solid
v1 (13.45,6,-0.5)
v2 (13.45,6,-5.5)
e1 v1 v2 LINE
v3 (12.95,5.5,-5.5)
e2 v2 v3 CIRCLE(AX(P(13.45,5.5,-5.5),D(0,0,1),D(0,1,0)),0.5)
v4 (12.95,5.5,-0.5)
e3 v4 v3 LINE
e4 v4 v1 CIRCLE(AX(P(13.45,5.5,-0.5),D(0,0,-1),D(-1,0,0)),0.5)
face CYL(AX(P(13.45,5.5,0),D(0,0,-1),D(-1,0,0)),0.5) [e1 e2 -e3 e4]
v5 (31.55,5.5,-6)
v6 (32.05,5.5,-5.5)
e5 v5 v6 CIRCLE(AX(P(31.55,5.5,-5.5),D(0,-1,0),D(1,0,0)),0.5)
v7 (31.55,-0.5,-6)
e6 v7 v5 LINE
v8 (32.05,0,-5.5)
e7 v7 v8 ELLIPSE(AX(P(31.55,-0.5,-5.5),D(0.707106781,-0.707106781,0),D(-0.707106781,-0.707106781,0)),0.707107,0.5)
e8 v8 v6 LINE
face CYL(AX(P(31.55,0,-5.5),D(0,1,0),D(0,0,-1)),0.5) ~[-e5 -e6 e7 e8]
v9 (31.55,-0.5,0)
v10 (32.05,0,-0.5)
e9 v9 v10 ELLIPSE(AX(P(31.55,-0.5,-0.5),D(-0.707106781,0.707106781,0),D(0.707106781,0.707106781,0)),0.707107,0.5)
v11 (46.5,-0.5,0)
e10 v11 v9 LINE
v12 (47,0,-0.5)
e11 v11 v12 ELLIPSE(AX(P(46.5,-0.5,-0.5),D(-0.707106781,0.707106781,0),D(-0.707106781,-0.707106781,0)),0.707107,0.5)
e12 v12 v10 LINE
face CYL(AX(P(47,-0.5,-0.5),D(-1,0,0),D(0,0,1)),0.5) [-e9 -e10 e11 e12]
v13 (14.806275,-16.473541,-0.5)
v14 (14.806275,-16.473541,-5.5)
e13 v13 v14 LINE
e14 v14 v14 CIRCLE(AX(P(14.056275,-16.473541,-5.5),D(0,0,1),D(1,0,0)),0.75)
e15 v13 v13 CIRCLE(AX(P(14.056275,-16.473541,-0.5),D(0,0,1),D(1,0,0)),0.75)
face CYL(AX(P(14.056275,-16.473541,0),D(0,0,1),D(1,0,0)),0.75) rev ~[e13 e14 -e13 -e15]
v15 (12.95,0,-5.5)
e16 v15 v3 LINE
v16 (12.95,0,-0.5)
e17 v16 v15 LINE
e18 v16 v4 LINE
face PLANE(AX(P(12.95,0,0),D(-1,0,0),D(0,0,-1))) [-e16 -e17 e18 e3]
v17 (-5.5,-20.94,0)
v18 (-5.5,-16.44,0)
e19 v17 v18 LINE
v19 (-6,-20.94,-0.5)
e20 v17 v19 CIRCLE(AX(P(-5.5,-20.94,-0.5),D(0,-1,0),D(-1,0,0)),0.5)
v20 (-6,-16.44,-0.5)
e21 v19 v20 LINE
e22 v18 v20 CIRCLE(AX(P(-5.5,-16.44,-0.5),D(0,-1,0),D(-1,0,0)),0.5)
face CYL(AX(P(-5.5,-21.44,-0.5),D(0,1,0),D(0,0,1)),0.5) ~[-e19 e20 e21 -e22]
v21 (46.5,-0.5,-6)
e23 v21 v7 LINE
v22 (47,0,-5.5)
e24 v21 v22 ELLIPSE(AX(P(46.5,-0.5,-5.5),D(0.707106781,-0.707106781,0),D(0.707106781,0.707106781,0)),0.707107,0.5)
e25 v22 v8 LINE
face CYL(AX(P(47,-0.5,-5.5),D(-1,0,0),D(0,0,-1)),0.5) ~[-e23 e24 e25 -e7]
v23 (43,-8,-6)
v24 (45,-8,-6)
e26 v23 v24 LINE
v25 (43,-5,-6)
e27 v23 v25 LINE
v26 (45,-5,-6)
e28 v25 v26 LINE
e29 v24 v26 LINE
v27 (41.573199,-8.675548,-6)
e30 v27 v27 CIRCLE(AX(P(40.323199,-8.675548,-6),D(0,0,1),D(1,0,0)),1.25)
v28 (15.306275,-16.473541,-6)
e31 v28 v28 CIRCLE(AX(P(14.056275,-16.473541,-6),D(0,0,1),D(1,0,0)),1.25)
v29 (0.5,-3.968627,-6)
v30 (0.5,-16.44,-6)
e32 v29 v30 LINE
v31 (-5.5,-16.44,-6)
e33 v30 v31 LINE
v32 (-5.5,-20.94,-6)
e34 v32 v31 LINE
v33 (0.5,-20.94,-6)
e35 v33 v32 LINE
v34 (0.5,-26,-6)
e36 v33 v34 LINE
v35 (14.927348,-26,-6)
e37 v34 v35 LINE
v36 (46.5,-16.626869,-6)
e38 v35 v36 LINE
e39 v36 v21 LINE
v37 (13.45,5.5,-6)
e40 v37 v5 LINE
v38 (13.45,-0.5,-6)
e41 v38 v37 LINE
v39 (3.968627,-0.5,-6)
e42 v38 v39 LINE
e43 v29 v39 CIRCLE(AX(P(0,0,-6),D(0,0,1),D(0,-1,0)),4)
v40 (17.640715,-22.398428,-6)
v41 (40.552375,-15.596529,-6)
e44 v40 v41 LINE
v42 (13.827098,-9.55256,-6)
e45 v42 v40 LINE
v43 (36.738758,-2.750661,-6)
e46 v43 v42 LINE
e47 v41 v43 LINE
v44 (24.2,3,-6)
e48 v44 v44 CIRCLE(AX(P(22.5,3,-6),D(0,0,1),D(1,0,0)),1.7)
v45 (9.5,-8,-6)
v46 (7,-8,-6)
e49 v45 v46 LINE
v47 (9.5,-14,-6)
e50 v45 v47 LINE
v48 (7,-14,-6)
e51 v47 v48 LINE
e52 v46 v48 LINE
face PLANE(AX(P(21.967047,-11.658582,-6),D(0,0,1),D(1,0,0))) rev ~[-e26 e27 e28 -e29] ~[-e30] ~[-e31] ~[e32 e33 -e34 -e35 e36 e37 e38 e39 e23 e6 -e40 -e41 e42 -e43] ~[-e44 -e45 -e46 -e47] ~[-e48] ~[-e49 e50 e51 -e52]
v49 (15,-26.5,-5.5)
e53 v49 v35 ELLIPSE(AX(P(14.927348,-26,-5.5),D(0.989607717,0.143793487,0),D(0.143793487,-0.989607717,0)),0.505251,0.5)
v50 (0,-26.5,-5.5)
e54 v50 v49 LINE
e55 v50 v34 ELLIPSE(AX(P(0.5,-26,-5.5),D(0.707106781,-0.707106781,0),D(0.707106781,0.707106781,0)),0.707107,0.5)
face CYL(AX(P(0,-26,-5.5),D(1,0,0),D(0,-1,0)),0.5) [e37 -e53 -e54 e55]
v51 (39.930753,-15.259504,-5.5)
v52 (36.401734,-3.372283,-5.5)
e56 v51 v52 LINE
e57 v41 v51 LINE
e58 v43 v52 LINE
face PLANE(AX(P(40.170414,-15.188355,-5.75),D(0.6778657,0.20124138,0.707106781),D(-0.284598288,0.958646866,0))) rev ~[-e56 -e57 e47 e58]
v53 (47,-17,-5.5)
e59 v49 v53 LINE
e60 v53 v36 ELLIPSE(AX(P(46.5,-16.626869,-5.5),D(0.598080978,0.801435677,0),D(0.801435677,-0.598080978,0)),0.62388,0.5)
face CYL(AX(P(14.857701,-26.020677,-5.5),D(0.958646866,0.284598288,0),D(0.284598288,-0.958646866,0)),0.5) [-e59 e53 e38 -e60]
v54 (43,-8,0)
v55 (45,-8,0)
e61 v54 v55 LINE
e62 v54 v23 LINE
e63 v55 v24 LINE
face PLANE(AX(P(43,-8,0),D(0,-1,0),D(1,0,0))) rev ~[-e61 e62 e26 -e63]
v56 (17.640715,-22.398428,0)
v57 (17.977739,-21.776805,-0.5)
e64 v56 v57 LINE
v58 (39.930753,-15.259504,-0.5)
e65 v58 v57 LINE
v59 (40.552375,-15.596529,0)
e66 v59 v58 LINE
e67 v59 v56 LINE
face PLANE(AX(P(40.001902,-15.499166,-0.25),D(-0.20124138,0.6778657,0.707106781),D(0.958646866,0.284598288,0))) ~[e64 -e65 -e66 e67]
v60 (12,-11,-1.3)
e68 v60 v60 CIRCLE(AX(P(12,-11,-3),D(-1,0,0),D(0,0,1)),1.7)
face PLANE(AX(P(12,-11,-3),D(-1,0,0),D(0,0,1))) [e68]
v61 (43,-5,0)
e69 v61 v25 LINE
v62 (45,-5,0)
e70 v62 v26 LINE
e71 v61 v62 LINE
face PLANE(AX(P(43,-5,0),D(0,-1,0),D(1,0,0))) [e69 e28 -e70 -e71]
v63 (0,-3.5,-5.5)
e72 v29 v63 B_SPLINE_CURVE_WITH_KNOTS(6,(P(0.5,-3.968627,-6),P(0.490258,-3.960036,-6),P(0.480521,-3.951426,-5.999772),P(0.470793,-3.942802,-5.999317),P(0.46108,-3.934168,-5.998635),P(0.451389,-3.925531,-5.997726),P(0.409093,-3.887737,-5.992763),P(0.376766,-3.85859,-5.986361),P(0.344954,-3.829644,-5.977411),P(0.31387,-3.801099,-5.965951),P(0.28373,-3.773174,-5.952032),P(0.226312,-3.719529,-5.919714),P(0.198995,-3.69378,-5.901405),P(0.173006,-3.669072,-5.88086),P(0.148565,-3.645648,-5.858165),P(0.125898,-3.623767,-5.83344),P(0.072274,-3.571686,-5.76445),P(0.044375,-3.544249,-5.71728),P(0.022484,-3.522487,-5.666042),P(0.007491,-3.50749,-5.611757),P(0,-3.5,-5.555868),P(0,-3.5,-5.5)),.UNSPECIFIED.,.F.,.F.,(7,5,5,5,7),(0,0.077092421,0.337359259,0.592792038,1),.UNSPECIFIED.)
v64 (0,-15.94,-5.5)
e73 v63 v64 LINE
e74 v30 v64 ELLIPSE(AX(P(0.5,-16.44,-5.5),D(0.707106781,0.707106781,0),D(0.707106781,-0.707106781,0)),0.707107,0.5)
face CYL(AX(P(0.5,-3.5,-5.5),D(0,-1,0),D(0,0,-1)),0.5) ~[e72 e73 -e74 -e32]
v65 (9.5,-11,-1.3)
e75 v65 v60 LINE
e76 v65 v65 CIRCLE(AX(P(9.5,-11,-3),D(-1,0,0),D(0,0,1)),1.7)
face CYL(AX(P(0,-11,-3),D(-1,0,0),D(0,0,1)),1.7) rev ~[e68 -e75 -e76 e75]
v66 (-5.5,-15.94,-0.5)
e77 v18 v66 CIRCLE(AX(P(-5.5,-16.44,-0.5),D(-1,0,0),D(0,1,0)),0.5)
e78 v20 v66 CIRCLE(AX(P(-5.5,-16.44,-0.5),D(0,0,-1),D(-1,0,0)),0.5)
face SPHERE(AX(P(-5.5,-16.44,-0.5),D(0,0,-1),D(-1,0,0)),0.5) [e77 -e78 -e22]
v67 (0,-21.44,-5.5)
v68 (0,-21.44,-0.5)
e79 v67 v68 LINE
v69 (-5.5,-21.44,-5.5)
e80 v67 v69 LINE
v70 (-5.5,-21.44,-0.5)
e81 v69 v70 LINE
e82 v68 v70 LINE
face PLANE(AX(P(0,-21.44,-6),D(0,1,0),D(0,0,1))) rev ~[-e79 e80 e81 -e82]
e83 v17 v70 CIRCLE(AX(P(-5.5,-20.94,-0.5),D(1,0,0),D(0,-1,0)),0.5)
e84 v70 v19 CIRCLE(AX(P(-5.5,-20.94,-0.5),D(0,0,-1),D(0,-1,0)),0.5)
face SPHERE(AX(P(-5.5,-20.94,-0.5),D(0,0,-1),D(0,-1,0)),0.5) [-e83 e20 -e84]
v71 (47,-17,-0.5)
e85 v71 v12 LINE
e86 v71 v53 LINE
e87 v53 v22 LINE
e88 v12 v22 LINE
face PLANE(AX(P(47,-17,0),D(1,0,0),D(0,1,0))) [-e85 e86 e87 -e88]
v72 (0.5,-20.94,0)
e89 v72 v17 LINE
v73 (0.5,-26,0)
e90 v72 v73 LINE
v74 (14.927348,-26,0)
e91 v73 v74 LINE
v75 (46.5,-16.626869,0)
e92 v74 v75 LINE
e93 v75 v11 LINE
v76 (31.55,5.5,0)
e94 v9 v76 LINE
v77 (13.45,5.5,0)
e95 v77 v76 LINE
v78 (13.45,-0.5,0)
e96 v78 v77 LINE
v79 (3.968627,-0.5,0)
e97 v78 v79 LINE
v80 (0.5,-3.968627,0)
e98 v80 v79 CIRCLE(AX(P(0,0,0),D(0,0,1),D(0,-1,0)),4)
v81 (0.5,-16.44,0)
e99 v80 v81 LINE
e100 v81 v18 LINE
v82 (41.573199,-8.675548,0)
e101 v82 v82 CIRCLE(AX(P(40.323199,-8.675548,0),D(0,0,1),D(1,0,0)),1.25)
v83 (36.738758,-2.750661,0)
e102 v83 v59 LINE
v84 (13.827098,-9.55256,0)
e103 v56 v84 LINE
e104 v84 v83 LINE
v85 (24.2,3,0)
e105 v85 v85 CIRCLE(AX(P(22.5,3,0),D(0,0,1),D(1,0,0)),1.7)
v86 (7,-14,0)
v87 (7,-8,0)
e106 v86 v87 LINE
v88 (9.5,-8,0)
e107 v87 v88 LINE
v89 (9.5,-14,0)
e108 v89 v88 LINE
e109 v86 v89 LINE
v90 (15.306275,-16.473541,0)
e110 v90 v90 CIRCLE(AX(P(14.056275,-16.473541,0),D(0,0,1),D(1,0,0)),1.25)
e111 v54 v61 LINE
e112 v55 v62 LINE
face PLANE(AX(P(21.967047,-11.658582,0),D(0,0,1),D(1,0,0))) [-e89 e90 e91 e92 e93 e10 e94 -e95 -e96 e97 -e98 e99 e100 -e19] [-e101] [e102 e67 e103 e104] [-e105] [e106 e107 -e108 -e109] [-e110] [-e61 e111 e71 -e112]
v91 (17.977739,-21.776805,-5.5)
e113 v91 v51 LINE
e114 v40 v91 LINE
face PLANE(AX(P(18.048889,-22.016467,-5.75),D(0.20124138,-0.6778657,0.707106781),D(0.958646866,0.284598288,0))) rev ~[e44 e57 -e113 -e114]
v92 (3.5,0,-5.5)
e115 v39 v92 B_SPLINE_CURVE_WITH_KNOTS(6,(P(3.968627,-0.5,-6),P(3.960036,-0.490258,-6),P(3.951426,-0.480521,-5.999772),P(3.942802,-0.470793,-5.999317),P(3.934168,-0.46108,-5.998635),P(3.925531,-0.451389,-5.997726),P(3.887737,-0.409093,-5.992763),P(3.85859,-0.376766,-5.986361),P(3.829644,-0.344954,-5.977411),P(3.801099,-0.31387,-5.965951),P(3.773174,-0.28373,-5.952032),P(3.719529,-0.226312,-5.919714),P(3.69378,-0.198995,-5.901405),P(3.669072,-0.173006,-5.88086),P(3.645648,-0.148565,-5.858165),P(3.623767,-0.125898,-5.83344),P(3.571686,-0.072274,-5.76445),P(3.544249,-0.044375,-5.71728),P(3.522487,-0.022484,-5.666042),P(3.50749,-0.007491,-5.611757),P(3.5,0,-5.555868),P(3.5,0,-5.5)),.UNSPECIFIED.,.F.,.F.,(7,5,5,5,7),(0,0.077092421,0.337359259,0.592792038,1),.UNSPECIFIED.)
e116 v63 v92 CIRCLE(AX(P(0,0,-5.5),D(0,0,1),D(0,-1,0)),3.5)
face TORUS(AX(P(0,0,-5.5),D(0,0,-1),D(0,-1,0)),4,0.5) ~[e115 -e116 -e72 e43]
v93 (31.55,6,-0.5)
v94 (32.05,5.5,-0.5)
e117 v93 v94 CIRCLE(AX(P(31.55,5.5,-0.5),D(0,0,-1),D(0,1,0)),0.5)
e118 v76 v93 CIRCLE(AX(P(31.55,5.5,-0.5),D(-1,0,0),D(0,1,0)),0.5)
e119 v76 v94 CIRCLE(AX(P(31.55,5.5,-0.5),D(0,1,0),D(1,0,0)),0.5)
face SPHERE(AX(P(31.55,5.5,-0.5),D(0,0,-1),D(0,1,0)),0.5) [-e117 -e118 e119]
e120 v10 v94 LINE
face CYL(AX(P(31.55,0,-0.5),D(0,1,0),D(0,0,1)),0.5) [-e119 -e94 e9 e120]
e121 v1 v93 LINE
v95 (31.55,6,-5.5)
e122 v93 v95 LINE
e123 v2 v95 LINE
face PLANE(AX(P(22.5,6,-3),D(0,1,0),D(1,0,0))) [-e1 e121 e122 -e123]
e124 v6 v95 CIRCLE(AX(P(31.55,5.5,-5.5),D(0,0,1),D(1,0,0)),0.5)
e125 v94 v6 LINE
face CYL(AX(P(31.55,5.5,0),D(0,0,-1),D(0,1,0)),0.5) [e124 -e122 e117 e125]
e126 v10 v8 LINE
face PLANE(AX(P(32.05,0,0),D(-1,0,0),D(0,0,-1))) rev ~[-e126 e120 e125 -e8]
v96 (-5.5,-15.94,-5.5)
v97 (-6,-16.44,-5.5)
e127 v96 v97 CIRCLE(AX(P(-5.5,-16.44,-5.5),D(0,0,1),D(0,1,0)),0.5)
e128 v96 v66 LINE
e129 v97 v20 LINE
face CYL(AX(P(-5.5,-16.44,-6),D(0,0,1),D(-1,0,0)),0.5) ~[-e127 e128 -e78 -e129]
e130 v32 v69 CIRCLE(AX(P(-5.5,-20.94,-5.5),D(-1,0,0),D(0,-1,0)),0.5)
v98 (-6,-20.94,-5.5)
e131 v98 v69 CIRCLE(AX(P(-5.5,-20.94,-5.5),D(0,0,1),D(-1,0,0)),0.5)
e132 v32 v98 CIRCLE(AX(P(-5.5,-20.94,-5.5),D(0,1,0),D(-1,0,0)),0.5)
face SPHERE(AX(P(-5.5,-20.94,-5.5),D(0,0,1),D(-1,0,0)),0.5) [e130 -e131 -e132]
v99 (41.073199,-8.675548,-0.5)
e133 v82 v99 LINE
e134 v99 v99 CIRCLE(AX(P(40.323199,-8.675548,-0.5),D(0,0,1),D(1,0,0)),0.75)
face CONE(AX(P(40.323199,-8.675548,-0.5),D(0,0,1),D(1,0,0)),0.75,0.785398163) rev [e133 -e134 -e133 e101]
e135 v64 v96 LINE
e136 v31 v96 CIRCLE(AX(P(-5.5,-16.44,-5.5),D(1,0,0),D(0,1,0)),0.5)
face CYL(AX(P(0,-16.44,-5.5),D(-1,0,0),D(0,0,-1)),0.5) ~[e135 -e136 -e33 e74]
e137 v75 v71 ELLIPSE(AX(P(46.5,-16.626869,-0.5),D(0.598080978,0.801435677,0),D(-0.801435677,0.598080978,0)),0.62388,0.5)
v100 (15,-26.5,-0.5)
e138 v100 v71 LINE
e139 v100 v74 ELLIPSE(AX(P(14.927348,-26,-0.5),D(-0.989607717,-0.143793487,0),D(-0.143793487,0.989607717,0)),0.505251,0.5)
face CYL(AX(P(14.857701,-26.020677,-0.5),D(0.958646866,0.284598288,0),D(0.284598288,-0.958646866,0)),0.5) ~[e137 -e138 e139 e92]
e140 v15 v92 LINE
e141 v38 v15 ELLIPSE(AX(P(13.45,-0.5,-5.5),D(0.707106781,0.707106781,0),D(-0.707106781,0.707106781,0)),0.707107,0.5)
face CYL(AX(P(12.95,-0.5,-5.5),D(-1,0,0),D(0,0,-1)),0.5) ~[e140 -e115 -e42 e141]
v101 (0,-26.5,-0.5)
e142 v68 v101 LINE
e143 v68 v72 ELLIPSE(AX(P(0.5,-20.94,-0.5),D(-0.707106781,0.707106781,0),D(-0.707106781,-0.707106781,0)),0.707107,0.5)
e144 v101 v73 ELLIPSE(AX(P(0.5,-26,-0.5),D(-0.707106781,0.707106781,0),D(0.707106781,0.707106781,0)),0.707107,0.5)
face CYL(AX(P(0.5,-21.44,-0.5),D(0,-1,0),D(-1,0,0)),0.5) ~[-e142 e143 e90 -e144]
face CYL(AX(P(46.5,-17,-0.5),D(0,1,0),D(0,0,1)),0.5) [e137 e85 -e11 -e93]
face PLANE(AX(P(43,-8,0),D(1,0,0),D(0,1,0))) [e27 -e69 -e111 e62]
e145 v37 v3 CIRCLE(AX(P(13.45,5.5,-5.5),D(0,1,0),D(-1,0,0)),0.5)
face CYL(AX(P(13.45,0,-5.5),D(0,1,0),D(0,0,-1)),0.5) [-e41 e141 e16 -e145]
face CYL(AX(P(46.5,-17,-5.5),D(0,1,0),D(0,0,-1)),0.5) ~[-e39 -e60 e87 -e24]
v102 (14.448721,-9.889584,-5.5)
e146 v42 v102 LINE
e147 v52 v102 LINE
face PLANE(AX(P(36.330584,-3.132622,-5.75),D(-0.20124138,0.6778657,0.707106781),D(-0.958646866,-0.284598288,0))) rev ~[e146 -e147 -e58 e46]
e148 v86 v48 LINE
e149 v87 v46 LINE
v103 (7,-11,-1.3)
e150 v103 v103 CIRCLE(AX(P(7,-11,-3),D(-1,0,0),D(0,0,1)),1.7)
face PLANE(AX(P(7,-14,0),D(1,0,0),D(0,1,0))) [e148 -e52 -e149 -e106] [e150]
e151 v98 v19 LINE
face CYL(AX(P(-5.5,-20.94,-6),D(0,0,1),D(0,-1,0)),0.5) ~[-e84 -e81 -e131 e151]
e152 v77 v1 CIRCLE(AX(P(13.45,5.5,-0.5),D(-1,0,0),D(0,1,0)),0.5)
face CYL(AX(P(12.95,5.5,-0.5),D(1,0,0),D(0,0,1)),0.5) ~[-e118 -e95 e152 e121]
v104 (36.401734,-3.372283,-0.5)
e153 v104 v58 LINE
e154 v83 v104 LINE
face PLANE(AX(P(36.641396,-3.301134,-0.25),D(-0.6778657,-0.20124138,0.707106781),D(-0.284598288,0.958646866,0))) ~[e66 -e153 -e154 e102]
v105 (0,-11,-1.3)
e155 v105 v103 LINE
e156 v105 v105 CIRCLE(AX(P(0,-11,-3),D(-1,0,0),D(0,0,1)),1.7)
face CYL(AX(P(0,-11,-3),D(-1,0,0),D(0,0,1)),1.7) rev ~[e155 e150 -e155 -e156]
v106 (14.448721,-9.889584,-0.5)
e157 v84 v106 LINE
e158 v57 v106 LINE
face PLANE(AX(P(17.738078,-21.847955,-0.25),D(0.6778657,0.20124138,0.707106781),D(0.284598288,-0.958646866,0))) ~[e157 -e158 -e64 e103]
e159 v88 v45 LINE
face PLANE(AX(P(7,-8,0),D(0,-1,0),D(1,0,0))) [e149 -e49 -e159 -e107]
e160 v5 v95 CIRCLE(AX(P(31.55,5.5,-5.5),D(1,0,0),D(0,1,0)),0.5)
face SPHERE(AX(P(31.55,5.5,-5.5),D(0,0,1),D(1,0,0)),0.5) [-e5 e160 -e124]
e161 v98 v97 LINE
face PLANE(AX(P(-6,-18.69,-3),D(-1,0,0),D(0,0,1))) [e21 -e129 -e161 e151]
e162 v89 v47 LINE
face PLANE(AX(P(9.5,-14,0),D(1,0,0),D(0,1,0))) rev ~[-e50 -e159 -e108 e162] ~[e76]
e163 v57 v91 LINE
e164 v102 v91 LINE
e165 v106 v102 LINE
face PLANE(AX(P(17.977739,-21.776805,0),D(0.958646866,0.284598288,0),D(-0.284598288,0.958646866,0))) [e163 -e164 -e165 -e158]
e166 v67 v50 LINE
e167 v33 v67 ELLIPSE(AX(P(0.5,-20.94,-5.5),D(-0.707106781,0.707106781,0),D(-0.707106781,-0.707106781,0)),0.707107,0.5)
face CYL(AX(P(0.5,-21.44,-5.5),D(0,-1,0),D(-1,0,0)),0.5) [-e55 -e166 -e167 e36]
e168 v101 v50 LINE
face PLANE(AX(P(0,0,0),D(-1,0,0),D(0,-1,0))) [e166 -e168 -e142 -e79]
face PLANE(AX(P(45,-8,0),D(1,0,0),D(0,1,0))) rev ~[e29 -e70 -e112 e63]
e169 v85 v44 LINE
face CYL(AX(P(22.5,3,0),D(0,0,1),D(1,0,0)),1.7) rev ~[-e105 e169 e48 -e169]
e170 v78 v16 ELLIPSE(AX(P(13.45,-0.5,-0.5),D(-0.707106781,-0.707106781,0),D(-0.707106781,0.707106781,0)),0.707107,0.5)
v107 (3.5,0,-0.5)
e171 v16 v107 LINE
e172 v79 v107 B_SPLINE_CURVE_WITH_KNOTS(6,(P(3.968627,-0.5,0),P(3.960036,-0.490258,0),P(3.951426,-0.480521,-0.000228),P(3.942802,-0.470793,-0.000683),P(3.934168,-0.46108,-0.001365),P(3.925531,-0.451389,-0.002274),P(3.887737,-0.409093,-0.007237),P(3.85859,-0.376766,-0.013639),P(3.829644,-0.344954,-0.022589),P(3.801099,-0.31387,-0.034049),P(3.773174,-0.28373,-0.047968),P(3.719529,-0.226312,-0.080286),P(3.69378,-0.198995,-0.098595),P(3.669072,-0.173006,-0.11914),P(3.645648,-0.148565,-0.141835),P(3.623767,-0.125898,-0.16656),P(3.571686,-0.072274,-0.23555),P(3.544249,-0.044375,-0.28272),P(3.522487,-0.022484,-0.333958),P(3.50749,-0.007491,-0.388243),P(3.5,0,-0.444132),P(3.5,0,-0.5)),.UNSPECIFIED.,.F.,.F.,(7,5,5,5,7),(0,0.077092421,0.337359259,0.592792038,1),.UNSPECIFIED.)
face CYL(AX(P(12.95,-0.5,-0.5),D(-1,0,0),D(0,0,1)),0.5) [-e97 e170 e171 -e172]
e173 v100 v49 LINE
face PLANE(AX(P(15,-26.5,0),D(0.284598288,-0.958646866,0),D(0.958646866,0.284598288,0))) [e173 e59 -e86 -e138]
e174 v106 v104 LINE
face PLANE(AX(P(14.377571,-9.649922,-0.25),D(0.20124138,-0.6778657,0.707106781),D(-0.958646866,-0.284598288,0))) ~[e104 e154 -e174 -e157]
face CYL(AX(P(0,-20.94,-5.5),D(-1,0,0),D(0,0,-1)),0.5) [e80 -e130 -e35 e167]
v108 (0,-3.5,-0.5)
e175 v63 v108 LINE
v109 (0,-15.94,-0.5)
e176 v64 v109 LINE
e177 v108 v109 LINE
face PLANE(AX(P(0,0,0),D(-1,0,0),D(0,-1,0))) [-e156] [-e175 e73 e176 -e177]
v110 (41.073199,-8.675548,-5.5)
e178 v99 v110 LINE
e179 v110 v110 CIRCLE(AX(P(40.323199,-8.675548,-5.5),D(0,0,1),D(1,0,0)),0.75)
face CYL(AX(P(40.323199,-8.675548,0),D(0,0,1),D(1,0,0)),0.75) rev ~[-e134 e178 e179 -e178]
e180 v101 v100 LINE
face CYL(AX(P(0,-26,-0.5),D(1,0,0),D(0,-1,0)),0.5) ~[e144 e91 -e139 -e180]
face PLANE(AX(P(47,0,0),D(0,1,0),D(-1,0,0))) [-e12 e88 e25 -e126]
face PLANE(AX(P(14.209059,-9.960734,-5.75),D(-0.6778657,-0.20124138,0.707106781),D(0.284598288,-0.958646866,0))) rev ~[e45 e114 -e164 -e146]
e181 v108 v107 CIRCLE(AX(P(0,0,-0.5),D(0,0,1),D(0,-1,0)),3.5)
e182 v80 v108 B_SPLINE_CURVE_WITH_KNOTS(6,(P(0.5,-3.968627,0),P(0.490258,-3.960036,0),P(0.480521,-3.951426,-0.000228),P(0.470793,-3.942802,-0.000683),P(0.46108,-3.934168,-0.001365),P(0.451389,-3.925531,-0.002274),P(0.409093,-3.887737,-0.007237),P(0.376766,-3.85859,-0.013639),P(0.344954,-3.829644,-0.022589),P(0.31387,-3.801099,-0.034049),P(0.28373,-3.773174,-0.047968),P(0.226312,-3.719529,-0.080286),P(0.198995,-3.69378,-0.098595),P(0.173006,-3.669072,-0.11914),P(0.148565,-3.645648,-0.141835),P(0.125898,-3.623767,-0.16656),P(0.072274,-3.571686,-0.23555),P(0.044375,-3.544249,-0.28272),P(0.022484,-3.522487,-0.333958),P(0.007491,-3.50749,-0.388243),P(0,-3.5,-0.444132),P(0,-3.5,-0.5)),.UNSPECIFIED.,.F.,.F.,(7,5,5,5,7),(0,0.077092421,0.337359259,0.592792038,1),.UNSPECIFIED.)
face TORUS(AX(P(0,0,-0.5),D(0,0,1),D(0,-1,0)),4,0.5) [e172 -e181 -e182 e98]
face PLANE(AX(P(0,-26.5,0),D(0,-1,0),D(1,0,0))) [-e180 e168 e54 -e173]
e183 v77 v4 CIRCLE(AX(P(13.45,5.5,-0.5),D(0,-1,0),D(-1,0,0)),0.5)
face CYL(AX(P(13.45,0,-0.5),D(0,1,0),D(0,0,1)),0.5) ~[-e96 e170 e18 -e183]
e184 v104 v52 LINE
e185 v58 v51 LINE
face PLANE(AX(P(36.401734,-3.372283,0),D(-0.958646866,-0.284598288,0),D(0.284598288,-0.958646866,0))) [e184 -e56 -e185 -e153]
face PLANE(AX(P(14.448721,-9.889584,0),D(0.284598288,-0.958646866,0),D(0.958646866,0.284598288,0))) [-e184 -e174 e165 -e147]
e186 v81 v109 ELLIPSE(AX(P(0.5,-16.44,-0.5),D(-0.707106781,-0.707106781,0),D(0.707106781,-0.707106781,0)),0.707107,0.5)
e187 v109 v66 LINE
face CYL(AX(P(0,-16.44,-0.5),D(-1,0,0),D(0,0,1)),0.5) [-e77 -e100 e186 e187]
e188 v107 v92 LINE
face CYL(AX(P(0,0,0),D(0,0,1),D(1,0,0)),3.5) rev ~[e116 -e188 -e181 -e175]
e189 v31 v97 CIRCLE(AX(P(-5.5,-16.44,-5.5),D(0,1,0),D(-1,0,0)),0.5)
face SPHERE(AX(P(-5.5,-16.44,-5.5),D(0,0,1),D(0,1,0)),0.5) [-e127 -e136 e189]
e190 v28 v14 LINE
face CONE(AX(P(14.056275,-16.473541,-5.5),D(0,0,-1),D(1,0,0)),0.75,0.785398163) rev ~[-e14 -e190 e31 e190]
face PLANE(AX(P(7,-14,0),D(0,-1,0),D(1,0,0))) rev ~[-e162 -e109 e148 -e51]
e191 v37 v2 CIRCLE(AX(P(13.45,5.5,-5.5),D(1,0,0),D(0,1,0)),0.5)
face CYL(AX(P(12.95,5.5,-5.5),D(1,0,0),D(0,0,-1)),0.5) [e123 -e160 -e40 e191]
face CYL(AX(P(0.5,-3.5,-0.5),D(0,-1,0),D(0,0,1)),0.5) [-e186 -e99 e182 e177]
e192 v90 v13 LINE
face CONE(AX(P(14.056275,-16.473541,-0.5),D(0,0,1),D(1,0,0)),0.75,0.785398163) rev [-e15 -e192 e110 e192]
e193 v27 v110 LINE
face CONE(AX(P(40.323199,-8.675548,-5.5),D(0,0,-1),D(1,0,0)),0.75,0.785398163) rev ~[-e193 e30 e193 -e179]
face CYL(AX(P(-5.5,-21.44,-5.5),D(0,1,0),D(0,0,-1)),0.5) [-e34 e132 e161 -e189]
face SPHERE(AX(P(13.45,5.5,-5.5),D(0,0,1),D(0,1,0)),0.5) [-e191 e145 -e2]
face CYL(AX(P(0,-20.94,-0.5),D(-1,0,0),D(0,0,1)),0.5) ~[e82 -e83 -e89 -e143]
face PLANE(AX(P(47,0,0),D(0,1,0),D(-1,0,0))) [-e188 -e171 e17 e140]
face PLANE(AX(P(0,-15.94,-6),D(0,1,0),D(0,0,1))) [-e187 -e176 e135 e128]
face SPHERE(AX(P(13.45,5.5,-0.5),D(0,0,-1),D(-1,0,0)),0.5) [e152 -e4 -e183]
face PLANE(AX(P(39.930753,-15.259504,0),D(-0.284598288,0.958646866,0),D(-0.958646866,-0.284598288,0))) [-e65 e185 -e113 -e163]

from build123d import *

# Parameters (mm, degrees)
BODY_DEPTH                = 6
SKETCH2_W                 = 19.1
SKETCH2_H                 = 6
TOP_TAB_DEPTH             = 6
SKETCH3_W                 = 6
SKETCH3_H                 = 5.5
BACK_TAB_DEPTH            = 6
SKETCH5_R                 = 1.7
BACK_SCREW_HOLE_DEPTH     = 12
SCREW_AND_NUT_HOLES_REACH = 56.289
SKETCH4_R                 = 1.7
SKETCH4_W                 = 2.5
SKETCH4_H                 = 6
SKETCH7_R                 = 3.5
SWITCH_WIRE_RELIEF_DEPTH  = 55.288580751
FILLET1_R                 = 0.5
SERVO_OPENINGS_REACH      = 56.289
SKETCH6_R                 = 0.75
CHAMFER1_SIZE             = 0.5
SKETCH8_W                 = 2
SKETCH8_H                 = 3
CUT_EXTRUDE1_DEPTH        = 55.288580762


with BuildPart() as part:
    # Sketch1 → Body (new body)
    with BuildSketch(Plane.XY):
        Polygon((0, -26.5), (15, -26.5), (47, -17), (47, 0), (0, 0), align=None)
    extrude(amount=-BODY_DEPTH)

    # Sketch2 → Top Tab (add)
    with BuildSketch(Plane(origin=(0, 0, 0), x_dir=(1, 0, 0), z_dir=(0, 1, 0))):
        with Locations((22.5, 3)):
            Rectangle(SKETCH2_W, SKETCH2_H)
    extrude(amount=TOP_TAB_DEPTH)

    # Sketch3 → Back Tab (add)
    with BuildSketch(Plane.ZY):
        with Locations((-3, -18.69)):
            Rectangle(SKETCH3_W, SKETCH3_H)
    extrude(amount=BACK_TAB_DEPTH)

    # Sketch5 → Back Screw Hole (cut)
    with BuildSketch(Plane.ZY):
        with Locations((-3, -11)):
            Circle(SKETCH5_R)
    extrude(amount=-BACK_SCREW_HOLE_DEPTH, mode=Mode.SUBTRACT)

    # Sketch4 → Screw and Nut Holes (cut, up to next)
    with BuildSketch(Plane.XY, mode=Mode.PRIVATE) as screw_and_nut_holes_sk1:
        with Locations((22.5, 3)):
            Circle(SKETCH4_R)
    screw_and_nut_holes_tool1 = extrude(screw_and_nut_holes_sk1.sketch, amount=-SCREW_AND_NUT_HOLES_REACH, mode=Mode.PRIVATE) & part.part
    # Sketch4 → Screw and Nut Holes (cut, up to next)
    with BuildSketch(Plane.XY, mode=Mode.PRIVATE) as screw_and_nut_holes_sk2:
        with Locations((8.25, -11)):
            Rectangle(SKETCH4_W, SKETCH4_H)
    screw_and_nut_holes_tool2 = extrude(screw_and_nut_holes_sk2.sketch, amount=-SCREW_AND_NUT_HOLES_REACH, mode=Mode.PRIVATE) & part.part
    add(screw_and_nut_holes_tool1.solids().sort_by_distance((22.5, 3, 0))[0], mode=Mode.SUBTRACT)
    add(screw_and_nut_holes_tool2.solids().sort_by_distance((8.25, -11, 0))[0], mode=Mode.SUBTRACT)

    # Sketch7 → Switch Wire Relief (cut, through all)
    with BuildSketch(Plane.XY):
        Circle(SKETCH7_R)
    extrude(amount=-SWITCH_WIRE_RELIEF_DEPTH, mode=Mode.SUBTRACT)

    # Fillet1
    fillet1_edges = [part.edges().sort_by_distance(p)[0] for p in [
        (32.05, 6, -3),
        (12.95, 6, -3),
        (-6, -15.94, -3),
        (-6, -21.44, -3),
        (7.5, -26.5, -6),
        (31, -21.75, -6),
        (47, -8.5, -6),
        (39.525, 0, -6),
        (32.05, 3, -6),
        (22.5, 6, -6),
        (12.95, 3, -6),
        (8.225, 0, -6),
        (0, -9.72, -6),
        (-3, -15.94, -6),
        (-6, -18.69, -6),
        (-3, -21.44, -6),
        (0, -23.97, -6),
        (0, -9.72, 0),
        (8.225, 0, 0),
        (12.95, 3, 0),
        (22.5, 6, 0),
        (32.05, 3, 0),
        (39.525, 0, 0),
        (47, -8.5, 0),
        (31, -21.75, 0),
        (7.5, -26.5, 0),
        (0, -23.97, 0),
        (-3, -21.44, 0),
        (-6, -18.69, 0),
        (-3, -15.94, 0),
        (2.474873734, -2.474873734, -6),
        (2.474873734, -2.474873734, 0),
    ]]
    fillet(fillet1_edges, radius=FILLET1_R)

    # Sketch6 → Servo Openings (cut, up to next)
    with BuildSketch(Plane.XY, mode=Mode.PRIVATE) as servo_openings_sk1:
        with Locations((14.056274553, -16.473540836)):
            Circle(SKETCH6_R)
    servo_openings_tool1 = extrude(servo_openings_sk1.sketch, amount=-SERVO_OPENINGS_REACH, mode=Mode.PRIVATE) & part.part
    # Sketch6 → Servo Openings (cut, up to next)
    with BuildSketch(Plane.XY, mode=Mode.PRIVATE) as servo_openings_sk2:
        with Locations((40.323198689, -8.675547733)):
            Circle(SKETCH6_R)
    servo_openings_tool2 = extrude(servo_openings_sk2.sketch, amount=-SERVO_OPENINGS_REACH, mode=Mode.PRIVATE) & part.part
    # Sketch6 → Servo Openings (cut, up to next)
    with BuildSketch(Plane.XY, mode=Mode.PRIVATE) as servo_openings_sk3:
        Polygon((36.401733852, -3.372283311), (39.930752628, -15.259504453), (17.97773939, -21.776805258), (14.448720614, -9.889584116), align=None)
    servo_openings_tool3 = extrude(servo_openings_sk3.sketch, amount=-SERVO_OPENINGS_REACH, mode=Mode.PRIVATE) & part.part
    add(servo_openings_tool1.solids().sort_by_distance((14.056275, -16.473541, 0))[0], mode=Mode.SUBTRACT)
    add(servo_openings_tool2.solids().sort_by_distance((40.323199, -8.675548, 0))[0], mode=Mode.SUBTRACT)
    add(servo_openings_tool3.solids().sort_by_distance((27.189737, -12.574544, 0))[0], mode=Mode.SUBTRACT)

    # Chamfer1
    chamfer1_edges = [part.edges().sort_by_distance(p)[0] for p in [
        (39.573198689, -8.675547733, -6),
        (13.306274553, -16.473540836, -6),
        (16.213230002, -15.833194687, -6),
        (25.425227233, -6.630933714, -6),
        (38.16624324, -9.315893882, -6),
        (28.954246009, -18.518154856, -6),
        (13.306274553, -16.473540836, 0),
        (39.573198689, -8.675547733, 0),
        (16.213230002, -15.833194687, 0),
        (25.425227233, -6.630933714, 0),
        (38.16624324, -9.315893882, 0),
        (28.954246009, -18.518154856, 0),
    ]]
    chamfer(chamfer1_edges, length=CHAMFER1_SIZE)

    # Sketch8 → Cut-Extrude1 (cut, through all)
    with BuildSketch(Plane.XY):
        with Locations((44, -6.5)):
            Rectangle(SKETCH8_W, SKETCH8_H)
    extrude(amount=-CUT_EXTRUDE1_DEPTH, mode=Mode.SUBTRACT)


solid = part.part
